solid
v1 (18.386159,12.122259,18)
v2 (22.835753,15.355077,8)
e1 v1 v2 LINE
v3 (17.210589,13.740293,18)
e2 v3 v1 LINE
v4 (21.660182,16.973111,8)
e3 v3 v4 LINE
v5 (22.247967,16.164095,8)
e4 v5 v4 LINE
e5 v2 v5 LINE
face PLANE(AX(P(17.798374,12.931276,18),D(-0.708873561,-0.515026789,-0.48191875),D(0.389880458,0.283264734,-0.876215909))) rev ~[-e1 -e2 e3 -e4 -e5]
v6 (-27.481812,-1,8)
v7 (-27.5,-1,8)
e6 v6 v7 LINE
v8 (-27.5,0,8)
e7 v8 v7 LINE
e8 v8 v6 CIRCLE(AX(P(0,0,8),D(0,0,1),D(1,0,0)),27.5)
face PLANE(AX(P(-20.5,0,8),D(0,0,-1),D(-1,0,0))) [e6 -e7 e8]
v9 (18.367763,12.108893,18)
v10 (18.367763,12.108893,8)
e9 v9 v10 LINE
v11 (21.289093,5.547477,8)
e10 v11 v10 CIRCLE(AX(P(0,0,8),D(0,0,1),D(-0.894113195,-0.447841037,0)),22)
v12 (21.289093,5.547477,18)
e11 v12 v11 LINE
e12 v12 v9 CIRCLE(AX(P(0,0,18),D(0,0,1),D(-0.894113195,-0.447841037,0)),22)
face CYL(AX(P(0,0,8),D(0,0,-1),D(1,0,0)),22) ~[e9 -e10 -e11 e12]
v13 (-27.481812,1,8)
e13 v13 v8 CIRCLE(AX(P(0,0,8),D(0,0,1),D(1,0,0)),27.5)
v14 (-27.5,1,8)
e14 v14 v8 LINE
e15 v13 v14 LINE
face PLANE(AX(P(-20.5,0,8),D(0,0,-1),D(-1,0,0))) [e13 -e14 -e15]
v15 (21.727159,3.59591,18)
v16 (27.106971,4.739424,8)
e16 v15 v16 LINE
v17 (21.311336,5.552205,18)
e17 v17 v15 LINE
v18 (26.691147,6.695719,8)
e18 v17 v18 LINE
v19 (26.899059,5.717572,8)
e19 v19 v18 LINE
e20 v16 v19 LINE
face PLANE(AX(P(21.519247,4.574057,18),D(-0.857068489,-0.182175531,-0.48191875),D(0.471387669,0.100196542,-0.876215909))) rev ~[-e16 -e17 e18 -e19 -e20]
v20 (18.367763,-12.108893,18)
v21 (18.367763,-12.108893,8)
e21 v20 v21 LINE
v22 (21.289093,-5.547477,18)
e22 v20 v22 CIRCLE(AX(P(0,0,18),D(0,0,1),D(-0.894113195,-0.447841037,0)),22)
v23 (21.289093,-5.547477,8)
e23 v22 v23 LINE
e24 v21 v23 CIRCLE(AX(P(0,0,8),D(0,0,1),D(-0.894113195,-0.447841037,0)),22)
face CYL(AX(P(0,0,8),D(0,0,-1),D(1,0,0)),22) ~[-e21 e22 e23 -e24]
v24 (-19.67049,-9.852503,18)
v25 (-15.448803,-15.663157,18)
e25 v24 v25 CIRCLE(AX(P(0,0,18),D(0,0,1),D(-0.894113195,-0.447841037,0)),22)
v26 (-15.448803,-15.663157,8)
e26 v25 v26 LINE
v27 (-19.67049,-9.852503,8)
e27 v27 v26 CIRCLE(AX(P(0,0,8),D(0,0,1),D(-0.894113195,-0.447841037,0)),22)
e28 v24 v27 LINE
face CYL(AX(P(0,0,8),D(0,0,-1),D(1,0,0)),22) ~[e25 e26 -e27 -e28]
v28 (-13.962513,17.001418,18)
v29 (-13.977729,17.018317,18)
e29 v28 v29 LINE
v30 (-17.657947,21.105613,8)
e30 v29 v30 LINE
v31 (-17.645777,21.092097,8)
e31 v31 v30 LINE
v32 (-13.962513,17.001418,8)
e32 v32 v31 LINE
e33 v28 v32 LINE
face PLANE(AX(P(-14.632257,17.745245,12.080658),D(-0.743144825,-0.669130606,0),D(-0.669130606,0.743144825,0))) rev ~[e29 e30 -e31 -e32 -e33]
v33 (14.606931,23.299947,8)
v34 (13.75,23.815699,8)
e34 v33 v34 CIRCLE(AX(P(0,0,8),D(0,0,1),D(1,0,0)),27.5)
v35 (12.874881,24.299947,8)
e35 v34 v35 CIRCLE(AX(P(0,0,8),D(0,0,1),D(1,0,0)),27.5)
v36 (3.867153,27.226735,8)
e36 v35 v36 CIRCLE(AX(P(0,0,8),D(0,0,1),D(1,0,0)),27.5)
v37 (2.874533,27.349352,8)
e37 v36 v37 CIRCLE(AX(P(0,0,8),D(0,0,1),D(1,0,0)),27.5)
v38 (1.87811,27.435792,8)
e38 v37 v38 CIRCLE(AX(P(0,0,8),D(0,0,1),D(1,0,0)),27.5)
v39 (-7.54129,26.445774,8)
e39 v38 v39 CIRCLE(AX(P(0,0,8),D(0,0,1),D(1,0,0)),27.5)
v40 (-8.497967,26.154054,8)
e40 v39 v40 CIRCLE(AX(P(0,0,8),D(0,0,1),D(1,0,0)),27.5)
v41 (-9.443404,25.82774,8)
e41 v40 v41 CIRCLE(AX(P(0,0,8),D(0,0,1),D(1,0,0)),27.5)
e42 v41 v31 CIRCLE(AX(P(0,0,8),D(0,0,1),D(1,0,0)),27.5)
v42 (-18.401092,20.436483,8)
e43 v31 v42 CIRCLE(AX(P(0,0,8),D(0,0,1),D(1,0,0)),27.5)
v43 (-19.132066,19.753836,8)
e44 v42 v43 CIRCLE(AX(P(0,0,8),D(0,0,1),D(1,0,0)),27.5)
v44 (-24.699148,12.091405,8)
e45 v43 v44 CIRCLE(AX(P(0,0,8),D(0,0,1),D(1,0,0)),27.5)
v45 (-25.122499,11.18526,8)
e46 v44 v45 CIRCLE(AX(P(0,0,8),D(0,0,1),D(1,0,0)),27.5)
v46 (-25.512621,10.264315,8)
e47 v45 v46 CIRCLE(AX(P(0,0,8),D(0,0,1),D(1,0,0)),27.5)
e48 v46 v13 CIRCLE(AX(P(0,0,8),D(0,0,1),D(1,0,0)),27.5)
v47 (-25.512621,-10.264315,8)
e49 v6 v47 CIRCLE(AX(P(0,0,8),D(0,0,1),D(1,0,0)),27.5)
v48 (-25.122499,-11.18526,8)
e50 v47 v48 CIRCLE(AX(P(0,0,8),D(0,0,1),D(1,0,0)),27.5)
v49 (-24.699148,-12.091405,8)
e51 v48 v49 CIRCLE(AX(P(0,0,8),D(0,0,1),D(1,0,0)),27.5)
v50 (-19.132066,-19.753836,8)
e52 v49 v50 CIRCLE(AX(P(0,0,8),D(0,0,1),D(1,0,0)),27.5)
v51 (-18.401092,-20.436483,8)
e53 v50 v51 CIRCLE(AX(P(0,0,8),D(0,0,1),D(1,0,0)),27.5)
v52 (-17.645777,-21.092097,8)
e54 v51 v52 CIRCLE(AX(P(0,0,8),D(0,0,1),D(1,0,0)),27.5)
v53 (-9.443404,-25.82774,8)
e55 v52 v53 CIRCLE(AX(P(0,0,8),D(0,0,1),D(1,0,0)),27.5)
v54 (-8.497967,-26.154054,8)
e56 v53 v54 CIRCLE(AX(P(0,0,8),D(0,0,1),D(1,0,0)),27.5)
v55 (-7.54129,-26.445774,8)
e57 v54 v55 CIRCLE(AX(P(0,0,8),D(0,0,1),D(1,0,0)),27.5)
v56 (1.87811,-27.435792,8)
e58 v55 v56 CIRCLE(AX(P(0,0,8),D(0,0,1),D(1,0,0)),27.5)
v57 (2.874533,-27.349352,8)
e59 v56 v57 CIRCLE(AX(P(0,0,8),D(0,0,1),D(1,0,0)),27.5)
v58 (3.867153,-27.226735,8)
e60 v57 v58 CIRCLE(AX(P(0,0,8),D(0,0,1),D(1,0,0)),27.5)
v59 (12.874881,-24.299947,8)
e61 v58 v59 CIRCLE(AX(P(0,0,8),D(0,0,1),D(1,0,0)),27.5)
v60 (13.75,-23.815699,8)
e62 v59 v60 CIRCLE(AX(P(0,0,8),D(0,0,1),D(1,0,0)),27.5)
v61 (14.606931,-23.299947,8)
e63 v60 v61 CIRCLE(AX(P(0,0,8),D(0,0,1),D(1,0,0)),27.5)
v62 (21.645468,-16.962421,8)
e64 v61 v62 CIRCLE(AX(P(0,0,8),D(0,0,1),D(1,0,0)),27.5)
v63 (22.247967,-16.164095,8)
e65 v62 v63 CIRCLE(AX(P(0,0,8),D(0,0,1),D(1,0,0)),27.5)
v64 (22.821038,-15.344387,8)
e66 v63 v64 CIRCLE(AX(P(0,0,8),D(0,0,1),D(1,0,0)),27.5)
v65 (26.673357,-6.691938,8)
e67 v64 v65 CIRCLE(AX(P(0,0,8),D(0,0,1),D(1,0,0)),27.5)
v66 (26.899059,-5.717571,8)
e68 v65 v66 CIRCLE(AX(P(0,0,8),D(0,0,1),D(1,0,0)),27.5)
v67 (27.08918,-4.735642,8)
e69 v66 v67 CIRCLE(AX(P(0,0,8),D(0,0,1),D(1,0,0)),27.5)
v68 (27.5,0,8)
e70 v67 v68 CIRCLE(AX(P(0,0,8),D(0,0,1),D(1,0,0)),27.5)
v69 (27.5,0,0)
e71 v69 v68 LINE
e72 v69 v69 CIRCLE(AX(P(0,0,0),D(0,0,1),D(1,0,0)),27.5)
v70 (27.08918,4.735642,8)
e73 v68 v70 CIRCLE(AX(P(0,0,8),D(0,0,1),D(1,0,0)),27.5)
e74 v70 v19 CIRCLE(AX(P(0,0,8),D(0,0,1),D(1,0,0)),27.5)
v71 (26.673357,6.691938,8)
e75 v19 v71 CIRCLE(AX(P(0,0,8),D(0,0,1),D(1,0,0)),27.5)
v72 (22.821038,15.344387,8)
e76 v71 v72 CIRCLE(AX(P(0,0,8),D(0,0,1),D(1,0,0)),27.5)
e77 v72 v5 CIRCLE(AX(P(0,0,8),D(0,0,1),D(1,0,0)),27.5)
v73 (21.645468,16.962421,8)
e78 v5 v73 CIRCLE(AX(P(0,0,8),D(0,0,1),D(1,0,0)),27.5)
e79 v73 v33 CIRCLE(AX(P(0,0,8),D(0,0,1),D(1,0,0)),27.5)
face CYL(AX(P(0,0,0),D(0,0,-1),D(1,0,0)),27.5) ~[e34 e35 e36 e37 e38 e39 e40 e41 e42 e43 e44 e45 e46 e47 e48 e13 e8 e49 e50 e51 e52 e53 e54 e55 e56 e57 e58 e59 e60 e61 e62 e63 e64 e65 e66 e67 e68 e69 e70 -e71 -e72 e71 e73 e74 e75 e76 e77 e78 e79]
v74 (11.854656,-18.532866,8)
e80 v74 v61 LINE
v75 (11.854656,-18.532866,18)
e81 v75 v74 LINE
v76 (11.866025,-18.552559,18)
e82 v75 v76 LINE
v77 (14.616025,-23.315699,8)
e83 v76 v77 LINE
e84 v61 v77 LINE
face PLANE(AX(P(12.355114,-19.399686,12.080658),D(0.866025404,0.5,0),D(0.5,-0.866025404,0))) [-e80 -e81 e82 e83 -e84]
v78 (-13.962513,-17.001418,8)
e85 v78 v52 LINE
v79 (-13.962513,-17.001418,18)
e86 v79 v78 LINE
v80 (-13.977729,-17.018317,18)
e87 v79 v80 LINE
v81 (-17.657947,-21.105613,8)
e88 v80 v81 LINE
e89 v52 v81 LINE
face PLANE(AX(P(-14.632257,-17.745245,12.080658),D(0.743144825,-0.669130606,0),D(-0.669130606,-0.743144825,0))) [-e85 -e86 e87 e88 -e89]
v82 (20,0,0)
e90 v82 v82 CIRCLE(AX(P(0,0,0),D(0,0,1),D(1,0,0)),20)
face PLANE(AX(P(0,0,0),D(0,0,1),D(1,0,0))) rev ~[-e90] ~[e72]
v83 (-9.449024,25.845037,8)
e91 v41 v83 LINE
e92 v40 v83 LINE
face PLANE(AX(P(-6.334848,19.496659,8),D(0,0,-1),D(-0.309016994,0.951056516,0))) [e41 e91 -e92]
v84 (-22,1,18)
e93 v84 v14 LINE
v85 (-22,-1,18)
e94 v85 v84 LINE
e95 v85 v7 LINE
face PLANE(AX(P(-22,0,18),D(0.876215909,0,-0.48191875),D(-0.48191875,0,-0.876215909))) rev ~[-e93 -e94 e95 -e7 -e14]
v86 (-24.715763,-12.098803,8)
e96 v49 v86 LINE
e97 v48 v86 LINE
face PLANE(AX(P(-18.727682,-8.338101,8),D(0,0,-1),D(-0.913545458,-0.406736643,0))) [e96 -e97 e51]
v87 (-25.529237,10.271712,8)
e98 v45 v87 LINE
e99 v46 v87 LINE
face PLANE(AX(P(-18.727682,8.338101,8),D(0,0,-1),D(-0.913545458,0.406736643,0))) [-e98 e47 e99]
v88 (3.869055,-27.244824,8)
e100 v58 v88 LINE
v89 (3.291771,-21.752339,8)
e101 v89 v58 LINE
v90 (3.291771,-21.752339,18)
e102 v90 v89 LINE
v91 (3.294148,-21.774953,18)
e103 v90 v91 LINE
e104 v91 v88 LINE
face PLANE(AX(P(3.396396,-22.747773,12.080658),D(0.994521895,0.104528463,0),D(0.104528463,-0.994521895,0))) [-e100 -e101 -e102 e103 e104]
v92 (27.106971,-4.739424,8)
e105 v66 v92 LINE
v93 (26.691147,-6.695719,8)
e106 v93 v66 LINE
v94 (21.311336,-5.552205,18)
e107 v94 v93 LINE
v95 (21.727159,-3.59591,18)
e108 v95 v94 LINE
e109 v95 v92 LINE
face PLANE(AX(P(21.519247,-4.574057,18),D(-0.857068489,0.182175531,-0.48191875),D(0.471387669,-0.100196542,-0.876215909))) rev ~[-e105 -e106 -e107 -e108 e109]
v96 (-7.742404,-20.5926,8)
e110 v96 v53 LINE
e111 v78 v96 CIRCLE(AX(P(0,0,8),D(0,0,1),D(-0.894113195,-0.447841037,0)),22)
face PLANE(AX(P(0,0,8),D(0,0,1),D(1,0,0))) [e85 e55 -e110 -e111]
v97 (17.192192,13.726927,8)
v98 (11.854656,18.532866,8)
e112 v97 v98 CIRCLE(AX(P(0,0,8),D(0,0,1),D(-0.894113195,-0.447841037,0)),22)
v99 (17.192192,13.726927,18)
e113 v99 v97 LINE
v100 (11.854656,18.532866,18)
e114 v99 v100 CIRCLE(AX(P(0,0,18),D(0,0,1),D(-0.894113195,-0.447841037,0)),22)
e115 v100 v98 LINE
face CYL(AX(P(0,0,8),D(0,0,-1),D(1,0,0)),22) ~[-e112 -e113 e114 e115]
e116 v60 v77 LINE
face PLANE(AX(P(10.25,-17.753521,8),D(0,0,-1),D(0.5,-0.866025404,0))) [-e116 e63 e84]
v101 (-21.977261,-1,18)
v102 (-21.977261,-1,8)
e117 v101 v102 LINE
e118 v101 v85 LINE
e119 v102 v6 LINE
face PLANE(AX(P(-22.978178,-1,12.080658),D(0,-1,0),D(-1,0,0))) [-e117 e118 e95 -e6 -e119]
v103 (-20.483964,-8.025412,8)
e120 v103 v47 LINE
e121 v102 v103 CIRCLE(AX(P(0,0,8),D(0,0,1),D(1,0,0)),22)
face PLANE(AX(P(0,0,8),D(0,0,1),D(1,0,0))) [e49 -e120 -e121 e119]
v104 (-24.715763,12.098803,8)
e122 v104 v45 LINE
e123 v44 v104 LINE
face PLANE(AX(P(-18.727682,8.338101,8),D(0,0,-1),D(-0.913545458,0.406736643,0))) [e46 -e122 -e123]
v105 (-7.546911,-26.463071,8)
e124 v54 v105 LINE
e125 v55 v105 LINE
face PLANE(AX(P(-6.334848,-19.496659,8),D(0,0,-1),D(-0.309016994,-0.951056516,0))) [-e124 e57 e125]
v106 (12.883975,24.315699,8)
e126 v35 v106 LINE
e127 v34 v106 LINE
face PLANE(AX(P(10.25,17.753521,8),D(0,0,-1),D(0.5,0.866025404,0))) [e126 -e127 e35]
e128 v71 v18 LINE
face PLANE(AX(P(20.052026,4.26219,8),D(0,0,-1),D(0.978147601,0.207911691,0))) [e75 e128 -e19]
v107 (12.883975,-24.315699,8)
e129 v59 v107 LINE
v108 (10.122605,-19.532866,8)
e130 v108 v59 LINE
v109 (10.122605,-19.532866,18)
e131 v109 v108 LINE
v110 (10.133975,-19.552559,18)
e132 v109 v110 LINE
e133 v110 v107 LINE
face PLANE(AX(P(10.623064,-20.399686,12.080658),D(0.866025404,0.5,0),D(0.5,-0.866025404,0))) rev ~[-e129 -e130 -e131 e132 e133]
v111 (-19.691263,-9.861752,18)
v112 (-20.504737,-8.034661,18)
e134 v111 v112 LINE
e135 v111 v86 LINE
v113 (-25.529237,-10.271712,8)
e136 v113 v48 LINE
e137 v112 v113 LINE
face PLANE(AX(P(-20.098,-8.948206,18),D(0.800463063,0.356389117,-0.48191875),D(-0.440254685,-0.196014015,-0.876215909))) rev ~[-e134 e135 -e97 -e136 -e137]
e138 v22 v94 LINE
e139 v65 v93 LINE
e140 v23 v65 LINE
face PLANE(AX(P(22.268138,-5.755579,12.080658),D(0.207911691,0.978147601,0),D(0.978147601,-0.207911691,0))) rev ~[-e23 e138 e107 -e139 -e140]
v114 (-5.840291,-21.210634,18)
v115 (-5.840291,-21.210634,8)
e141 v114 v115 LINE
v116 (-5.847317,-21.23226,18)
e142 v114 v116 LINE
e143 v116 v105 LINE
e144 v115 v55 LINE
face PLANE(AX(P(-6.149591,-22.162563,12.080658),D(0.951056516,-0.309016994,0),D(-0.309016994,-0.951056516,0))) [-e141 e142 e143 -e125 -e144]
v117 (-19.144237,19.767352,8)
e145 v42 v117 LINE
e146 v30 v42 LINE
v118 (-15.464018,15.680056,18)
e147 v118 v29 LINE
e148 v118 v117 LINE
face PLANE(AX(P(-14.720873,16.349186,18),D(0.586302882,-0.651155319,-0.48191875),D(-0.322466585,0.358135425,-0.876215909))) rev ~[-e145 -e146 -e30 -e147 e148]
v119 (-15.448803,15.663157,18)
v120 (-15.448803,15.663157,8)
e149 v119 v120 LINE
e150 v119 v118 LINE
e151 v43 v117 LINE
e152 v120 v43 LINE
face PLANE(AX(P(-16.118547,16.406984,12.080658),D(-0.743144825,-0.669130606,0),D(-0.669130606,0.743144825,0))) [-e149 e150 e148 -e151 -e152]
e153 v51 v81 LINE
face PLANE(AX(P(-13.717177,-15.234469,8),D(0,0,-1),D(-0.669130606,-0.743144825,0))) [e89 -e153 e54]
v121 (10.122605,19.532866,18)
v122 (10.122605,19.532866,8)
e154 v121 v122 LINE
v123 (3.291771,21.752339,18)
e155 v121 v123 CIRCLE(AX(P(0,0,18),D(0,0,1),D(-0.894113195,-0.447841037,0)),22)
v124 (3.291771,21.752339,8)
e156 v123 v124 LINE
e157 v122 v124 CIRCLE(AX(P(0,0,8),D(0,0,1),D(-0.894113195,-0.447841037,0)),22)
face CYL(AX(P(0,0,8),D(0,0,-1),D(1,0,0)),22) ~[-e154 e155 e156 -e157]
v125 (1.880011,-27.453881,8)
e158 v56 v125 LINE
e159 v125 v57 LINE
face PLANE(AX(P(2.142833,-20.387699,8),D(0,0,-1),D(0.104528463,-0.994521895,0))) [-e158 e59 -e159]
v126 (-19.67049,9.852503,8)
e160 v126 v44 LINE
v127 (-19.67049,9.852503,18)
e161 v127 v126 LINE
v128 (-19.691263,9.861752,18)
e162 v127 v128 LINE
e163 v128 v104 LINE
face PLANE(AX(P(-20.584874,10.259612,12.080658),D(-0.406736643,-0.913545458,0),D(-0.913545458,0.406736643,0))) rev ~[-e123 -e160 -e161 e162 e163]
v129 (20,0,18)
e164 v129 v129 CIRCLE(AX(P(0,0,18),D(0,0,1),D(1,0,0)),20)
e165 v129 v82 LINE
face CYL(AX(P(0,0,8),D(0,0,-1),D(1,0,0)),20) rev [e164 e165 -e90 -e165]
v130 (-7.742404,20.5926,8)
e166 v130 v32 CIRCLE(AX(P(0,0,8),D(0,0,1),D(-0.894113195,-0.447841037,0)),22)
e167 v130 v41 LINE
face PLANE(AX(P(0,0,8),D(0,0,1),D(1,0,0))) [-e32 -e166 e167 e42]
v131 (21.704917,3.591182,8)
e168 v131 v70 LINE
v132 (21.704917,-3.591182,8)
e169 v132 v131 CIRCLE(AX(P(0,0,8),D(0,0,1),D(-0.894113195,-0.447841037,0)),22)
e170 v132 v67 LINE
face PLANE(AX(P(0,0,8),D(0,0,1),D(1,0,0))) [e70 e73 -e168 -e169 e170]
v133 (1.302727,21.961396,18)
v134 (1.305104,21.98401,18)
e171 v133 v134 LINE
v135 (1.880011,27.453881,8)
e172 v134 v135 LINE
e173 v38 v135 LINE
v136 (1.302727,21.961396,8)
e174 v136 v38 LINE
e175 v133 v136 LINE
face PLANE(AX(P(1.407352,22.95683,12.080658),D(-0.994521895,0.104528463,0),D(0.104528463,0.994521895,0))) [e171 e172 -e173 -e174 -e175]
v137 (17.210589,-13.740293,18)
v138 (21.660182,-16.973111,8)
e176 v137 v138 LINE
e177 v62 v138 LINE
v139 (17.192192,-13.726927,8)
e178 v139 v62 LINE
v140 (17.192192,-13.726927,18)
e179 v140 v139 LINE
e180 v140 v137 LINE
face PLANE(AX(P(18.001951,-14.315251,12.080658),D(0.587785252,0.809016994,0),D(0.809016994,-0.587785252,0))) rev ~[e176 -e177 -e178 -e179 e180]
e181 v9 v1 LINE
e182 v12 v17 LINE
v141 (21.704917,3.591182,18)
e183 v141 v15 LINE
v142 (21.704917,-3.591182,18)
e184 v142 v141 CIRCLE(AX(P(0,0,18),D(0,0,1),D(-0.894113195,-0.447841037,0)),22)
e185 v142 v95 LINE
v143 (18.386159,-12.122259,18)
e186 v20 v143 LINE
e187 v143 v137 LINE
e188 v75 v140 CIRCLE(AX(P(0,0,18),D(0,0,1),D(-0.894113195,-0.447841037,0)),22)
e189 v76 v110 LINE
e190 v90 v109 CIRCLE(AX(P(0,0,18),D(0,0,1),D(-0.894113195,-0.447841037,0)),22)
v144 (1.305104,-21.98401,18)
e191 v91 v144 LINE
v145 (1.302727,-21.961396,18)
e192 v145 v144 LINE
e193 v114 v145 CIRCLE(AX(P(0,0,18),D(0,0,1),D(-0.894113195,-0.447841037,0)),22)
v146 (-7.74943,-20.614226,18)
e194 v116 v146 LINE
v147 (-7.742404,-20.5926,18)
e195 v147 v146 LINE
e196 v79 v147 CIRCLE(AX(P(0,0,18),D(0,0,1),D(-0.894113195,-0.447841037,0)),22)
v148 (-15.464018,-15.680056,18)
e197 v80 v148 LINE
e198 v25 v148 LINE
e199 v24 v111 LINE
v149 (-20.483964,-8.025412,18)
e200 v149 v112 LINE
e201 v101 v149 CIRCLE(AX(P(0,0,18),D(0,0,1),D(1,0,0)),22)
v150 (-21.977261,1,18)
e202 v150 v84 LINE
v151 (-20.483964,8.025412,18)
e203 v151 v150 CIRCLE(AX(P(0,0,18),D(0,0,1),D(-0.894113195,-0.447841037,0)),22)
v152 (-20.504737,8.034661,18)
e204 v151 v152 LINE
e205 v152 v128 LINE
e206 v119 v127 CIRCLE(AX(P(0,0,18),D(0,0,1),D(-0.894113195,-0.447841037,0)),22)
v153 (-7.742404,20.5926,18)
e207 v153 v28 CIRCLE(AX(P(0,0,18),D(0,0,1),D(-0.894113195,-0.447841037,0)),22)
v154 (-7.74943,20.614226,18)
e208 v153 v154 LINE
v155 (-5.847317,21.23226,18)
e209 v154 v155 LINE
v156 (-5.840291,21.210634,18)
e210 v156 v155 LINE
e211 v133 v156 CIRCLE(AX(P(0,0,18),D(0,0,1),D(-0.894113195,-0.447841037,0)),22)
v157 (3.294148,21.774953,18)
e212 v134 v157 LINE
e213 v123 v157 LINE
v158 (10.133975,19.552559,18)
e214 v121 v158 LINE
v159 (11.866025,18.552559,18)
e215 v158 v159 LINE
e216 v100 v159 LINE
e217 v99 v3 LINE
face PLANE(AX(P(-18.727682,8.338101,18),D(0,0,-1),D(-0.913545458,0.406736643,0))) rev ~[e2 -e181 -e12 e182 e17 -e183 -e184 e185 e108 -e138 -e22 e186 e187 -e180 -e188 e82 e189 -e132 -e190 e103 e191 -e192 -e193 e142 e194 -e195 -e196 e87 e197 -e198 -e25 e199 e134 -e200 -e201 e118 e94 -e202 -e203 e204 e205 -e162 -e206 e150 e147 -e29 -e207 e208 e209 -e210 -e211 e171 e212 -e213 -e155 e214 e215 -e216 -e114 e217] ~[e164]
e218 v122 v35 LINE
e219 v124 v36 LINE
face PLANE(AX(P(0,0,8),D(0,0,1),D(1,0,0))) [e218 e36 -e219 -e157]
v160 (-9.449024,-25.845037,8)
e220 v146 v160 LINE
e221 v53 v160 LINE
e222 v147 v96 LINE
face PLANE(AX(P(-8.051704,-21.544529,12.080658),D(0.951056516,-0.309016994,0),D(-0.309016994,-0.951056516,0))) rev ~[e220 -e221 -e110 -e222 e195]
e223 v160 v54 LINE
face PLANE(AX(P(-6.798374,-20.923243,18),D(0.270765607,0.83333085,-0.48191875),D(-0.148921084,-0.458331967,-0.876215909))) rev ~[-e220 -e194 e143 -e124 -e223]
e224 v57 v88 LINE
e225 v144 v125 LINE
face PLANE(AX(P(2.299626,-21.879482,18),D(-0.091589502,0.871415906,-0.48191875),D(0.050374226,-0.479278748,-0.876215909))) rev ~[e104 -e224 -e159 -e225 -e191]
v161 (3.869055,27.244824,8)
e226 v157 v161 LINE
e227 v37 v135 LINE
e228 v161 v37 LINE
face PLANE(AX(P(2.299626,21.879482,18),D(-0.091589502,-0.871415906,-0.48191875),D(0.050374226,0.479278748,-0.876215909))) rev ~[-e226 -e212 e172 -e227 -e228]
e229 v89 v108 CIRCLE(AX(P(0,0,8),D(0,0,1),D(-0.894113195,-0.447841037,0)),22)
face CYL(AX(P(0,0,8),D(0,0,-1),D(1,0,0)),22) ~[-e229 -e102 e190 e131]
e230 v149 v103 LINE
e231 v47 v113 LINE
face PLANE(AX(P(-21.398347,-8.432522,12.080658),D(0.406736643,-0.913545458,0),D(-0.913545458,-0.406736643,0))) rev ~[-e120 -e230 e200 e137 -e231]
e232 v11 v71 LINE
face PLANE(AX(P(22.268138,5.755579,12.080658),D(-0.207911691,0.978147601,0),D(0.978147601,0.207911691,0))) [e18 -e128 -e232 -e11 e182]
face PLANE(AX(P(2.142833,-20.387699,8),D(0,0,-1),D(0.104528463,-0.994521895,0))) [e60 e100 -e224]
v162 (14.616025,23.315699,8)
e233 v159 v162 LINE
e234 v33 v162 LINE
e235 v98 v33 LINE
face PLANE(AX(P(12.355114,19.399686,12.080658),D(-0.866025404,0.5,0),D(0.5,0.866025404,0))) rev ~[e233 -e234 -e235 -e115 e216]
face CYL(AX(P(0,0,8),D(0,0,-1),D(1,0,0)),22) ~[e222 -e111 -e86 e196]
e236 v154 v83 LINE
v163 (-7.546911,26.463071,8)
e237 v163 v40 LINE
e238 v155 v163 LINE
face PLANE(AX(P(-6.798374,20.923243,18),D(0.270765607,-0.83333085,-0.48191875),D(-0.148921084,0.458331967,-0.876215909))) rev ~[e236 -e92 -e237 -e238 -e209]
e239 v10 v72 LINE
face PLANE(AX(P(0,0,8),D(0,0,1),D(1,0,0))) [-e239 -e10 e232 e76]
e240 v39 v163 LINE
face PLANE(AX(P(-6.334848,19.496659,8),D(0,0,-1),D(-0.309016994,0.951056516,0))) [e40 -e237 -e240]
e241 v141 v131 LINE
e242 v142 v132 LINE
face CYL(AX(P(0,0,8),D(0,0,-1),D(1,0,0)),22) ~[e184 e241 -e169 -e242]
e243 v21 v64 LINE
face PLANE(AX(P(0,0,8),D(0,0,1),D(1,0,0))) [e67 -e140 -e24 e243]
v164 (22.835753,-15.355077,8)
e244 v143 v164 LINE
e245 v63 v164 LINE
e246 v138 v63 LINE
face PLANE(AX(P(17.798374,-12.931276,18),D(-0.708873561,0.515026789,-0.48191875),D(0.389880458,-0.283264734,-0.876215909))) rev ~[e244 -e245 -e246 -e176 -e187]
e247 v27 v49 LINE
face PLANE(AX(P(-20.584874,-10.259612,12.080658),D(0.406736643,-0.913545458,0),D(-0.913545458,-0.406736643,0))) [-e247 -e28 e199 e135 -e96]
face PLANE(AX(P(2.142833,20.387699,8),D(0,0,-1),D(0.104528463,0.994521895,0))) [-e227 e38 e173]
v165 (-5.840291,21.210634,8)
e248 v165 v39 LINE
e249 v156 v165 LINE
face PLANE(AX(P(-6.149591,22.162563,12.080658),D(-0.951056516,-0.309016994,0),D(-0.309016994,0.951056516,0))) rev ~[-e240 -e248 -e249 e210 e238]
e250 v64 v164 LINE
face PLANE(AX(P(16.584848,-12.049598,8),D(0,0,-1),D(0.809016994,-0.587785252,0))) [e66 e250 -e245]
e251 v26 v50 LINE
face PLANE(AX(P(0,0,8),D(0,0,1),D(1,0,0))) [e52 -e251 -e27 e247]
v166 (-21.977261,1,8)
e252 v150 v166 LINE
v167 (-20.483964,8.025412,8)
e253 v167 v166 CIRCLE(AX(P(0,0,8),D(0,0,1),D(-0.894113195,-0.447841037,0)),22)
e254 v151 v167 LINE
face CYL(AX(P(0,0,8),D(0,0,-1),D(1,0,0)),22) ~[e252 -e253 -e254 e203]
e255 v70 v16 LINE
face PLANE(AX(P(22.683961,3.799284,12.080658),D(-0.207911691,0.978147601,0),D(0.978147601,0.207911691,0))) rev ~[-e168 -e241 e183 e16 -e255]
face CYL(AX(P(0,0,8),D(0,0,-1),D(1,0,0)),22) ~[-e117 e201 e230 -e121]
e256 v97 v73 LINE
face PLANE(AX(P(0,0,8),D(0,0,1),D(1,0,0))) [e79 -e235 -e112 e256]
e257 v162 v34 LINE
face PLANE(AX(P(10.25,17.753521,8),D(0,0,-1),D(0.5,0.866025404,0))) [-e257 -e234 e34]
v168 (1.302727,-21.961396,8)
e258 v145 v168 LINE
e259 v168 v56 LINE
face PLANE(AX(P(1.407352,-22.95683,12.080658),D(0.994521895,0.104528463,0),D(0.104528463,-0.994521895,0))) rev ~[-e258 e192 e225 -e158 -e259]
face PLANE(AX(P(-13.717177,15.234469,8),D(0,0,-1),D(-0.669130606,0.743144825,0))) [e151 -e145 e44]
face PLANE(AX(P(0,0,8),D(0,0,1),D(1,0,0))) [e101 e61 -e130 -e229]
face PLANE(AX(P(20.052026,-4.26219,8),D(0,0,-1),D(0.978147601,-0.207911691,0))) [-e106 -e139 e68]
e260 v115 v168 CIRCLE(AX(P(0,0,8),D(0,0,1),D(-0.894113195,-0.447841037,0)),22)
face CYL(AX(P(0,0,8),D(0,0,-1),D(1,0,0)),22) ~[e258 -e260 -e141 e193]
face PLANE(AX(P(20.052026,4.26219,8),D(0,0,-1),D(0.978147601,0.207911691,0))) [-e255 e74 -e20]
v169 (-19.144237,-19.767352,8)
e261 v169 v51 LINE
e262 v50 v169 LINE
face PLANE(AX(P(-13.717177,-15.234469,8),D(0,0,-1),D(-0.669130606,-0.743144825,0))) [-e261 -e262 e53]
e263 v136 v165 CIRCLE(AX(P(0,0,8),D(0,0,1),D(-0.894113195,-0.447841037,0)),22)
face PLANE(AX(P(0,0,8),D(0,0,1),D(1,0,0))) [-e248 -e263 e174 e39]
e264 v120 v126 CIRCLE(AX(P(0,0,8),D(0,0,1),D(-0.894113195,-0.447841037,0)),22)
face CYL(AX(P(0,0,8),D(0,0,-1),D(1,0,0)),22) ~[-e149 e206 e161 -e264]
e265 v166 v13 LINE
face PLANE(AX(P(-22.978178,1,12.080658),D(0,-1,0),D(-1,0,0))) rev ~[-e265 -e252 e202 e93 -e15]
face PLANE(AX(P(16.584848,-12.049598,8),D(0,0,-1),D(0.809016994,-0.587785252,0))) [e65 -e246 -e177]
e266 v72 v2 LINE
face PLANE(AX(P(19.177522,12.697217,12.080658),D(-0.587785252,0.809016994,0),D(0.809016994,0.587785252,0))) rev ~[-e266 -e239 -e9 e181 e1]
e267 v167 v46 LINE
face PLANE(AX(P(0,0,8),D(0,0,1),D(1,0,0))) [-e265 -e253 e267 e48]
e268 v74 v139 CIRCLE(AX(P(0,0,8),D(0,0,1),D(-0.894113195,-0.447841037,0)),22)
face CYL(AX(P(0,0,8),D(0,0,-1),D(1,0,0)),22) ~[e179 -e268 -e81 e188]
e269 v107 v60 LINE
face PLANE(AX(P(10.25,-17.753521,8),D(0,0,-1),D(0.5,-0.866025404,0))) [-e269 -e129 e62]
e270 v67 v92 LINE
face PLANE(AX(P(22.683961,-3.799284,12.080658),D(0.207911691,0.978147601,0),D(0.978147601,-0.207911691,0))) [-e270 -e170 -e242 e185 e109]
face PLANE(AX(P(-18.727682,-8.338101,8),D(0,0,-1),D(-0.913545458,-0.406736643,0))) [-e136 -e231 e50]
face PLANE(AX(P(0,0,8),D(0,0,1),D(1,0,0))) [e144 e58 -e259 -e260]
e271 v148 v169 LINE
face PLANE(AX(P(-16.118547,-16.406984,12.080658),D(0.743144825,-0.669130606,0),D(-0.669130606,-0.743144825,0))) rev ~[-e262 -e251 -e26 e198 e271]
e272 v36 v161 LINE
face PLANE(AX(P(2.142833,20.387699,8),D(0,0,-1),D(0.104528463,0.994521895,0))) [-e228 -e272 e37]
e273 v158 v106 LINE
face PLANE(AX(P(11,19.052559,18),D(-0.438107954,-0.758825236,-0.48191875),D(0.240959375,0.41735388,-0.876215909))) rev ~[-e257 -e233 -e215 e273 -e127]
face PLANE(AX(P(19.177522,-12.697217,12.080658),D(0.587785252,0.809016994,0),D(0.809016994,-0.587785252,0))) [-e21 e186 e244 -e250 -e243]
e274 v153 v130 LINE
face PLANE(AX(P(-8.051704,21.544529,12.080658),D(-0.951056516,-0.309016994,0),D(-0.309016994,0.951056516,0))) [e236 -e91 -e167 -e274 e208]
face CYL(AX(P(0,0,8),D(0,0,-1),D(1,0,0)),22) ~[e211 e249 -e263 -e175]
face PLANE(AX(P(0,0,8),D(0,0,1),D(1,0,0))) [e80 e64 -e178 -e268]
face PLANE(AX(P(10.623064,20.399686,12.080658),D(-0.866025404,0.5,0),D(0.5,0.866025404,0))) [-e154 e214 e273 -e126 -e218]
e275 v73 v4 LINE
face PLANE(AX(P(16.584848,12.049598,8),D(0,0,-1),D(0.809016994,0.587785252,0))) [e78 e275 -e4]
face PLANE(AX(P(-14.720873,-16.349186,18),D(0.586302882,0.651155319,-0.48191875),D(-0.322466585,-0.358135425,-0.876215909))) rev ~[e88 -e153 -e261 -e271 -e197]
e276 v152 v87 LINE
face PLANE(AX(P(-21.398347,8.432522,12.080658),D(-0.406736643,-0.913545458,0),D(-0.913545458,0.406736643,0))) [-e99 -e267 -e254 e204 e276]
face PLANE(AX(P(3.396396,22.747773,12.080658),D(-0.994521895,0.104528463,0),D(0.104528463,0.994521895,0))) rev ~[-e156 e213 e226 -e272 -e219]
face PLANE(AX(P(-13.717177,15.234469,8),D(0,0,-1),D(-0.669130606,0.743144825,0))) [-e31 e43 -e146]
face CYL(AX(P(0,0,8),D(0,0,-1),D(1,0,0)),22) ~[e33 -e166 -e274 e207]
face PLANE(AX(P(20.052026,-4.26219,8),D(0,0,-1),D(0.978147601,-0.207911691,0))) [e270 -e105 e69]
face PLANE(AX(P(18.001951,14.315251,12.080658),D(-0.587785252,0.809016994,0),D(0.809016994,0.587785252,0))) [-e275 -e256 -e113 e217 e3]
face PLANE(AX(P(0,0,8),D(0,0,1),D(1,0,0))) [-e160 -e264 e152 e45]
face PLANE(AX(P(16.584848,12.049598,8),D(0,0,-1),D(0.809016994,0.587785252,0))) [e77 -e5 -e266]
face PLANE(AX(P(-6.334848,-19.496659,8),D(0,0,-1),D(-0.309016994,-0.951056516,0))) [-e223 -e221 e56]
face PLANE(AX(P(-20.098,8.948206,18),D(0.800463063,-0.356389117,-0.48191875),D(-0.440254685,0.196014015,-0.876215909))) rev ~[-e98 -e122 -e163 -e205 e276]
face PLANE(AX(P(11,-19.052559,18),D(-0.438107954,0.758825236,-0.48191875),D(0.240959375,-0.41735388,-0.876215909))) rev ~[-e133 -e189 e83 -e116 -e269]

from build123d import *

# Parameters (mm, degrees)
SKETCH1_R           = 27.5
SKETCH1_R_2         = 20
BOSS_EXTRUDE1_DEPTH = 8
SKETCH2_R           = 22
SKETCH2_R_2         = 20
BOSS_EXTRUDE2_DEPTH = 10
BOSS_EXTRUDE3_DEPTH = 1
CIRPATTERN1_COUNT   = 15


with BuildPart() as part:
    # Sketch1 → Boss-Extrude1 (new body)
    with BuildSketch(Plane.XY):
        Circle(SKETCH1_R)
        Circle(SKETCH1_R_2, mode=Mode.SUBTRACT)
    extrude(amount=BOSS_EXTRUDE1_DEPTH)

    # Sketch2 → Boss-Extrude2 (add)
    with BuildSketch(Plane.XY.offset(8)):
        Circle(SKETCH2_R)
        Circle(SKETCH2_R_2, mode=Mode.SUBTRACT)
    extrude(amount=BOSS_EXTRUDE2_DEPTH)

    # Sketch3 → Boss-Extrude3 (add, symmetric)
    with BuildSketch(Plane(origin=(0, 0, 0), x_dir=(1, 0, 0), z_dir=(0, 1, 0))):
        Polygon((-22, -18), (-27.5, -8), (-22, -8), (-20.5, -8), (-20.5, -18), align=None)
    boss_extrude3 = extrude(amount=BOSS_EXTRUDE3_DEPTH, both=True)

    # CirPattern1: Boss-Extrude3 ×15 about axis
    cirpattern1_axis = Axis((0, 0, 0), (0, 0, 1))
    for i in range(1, CIRPATTERN1_COUNT):
        add(boss_extrude3.rotate(cirpattern1_axis, i * 360 / CIRPATTERN1_COUNT))


solid = part.part
